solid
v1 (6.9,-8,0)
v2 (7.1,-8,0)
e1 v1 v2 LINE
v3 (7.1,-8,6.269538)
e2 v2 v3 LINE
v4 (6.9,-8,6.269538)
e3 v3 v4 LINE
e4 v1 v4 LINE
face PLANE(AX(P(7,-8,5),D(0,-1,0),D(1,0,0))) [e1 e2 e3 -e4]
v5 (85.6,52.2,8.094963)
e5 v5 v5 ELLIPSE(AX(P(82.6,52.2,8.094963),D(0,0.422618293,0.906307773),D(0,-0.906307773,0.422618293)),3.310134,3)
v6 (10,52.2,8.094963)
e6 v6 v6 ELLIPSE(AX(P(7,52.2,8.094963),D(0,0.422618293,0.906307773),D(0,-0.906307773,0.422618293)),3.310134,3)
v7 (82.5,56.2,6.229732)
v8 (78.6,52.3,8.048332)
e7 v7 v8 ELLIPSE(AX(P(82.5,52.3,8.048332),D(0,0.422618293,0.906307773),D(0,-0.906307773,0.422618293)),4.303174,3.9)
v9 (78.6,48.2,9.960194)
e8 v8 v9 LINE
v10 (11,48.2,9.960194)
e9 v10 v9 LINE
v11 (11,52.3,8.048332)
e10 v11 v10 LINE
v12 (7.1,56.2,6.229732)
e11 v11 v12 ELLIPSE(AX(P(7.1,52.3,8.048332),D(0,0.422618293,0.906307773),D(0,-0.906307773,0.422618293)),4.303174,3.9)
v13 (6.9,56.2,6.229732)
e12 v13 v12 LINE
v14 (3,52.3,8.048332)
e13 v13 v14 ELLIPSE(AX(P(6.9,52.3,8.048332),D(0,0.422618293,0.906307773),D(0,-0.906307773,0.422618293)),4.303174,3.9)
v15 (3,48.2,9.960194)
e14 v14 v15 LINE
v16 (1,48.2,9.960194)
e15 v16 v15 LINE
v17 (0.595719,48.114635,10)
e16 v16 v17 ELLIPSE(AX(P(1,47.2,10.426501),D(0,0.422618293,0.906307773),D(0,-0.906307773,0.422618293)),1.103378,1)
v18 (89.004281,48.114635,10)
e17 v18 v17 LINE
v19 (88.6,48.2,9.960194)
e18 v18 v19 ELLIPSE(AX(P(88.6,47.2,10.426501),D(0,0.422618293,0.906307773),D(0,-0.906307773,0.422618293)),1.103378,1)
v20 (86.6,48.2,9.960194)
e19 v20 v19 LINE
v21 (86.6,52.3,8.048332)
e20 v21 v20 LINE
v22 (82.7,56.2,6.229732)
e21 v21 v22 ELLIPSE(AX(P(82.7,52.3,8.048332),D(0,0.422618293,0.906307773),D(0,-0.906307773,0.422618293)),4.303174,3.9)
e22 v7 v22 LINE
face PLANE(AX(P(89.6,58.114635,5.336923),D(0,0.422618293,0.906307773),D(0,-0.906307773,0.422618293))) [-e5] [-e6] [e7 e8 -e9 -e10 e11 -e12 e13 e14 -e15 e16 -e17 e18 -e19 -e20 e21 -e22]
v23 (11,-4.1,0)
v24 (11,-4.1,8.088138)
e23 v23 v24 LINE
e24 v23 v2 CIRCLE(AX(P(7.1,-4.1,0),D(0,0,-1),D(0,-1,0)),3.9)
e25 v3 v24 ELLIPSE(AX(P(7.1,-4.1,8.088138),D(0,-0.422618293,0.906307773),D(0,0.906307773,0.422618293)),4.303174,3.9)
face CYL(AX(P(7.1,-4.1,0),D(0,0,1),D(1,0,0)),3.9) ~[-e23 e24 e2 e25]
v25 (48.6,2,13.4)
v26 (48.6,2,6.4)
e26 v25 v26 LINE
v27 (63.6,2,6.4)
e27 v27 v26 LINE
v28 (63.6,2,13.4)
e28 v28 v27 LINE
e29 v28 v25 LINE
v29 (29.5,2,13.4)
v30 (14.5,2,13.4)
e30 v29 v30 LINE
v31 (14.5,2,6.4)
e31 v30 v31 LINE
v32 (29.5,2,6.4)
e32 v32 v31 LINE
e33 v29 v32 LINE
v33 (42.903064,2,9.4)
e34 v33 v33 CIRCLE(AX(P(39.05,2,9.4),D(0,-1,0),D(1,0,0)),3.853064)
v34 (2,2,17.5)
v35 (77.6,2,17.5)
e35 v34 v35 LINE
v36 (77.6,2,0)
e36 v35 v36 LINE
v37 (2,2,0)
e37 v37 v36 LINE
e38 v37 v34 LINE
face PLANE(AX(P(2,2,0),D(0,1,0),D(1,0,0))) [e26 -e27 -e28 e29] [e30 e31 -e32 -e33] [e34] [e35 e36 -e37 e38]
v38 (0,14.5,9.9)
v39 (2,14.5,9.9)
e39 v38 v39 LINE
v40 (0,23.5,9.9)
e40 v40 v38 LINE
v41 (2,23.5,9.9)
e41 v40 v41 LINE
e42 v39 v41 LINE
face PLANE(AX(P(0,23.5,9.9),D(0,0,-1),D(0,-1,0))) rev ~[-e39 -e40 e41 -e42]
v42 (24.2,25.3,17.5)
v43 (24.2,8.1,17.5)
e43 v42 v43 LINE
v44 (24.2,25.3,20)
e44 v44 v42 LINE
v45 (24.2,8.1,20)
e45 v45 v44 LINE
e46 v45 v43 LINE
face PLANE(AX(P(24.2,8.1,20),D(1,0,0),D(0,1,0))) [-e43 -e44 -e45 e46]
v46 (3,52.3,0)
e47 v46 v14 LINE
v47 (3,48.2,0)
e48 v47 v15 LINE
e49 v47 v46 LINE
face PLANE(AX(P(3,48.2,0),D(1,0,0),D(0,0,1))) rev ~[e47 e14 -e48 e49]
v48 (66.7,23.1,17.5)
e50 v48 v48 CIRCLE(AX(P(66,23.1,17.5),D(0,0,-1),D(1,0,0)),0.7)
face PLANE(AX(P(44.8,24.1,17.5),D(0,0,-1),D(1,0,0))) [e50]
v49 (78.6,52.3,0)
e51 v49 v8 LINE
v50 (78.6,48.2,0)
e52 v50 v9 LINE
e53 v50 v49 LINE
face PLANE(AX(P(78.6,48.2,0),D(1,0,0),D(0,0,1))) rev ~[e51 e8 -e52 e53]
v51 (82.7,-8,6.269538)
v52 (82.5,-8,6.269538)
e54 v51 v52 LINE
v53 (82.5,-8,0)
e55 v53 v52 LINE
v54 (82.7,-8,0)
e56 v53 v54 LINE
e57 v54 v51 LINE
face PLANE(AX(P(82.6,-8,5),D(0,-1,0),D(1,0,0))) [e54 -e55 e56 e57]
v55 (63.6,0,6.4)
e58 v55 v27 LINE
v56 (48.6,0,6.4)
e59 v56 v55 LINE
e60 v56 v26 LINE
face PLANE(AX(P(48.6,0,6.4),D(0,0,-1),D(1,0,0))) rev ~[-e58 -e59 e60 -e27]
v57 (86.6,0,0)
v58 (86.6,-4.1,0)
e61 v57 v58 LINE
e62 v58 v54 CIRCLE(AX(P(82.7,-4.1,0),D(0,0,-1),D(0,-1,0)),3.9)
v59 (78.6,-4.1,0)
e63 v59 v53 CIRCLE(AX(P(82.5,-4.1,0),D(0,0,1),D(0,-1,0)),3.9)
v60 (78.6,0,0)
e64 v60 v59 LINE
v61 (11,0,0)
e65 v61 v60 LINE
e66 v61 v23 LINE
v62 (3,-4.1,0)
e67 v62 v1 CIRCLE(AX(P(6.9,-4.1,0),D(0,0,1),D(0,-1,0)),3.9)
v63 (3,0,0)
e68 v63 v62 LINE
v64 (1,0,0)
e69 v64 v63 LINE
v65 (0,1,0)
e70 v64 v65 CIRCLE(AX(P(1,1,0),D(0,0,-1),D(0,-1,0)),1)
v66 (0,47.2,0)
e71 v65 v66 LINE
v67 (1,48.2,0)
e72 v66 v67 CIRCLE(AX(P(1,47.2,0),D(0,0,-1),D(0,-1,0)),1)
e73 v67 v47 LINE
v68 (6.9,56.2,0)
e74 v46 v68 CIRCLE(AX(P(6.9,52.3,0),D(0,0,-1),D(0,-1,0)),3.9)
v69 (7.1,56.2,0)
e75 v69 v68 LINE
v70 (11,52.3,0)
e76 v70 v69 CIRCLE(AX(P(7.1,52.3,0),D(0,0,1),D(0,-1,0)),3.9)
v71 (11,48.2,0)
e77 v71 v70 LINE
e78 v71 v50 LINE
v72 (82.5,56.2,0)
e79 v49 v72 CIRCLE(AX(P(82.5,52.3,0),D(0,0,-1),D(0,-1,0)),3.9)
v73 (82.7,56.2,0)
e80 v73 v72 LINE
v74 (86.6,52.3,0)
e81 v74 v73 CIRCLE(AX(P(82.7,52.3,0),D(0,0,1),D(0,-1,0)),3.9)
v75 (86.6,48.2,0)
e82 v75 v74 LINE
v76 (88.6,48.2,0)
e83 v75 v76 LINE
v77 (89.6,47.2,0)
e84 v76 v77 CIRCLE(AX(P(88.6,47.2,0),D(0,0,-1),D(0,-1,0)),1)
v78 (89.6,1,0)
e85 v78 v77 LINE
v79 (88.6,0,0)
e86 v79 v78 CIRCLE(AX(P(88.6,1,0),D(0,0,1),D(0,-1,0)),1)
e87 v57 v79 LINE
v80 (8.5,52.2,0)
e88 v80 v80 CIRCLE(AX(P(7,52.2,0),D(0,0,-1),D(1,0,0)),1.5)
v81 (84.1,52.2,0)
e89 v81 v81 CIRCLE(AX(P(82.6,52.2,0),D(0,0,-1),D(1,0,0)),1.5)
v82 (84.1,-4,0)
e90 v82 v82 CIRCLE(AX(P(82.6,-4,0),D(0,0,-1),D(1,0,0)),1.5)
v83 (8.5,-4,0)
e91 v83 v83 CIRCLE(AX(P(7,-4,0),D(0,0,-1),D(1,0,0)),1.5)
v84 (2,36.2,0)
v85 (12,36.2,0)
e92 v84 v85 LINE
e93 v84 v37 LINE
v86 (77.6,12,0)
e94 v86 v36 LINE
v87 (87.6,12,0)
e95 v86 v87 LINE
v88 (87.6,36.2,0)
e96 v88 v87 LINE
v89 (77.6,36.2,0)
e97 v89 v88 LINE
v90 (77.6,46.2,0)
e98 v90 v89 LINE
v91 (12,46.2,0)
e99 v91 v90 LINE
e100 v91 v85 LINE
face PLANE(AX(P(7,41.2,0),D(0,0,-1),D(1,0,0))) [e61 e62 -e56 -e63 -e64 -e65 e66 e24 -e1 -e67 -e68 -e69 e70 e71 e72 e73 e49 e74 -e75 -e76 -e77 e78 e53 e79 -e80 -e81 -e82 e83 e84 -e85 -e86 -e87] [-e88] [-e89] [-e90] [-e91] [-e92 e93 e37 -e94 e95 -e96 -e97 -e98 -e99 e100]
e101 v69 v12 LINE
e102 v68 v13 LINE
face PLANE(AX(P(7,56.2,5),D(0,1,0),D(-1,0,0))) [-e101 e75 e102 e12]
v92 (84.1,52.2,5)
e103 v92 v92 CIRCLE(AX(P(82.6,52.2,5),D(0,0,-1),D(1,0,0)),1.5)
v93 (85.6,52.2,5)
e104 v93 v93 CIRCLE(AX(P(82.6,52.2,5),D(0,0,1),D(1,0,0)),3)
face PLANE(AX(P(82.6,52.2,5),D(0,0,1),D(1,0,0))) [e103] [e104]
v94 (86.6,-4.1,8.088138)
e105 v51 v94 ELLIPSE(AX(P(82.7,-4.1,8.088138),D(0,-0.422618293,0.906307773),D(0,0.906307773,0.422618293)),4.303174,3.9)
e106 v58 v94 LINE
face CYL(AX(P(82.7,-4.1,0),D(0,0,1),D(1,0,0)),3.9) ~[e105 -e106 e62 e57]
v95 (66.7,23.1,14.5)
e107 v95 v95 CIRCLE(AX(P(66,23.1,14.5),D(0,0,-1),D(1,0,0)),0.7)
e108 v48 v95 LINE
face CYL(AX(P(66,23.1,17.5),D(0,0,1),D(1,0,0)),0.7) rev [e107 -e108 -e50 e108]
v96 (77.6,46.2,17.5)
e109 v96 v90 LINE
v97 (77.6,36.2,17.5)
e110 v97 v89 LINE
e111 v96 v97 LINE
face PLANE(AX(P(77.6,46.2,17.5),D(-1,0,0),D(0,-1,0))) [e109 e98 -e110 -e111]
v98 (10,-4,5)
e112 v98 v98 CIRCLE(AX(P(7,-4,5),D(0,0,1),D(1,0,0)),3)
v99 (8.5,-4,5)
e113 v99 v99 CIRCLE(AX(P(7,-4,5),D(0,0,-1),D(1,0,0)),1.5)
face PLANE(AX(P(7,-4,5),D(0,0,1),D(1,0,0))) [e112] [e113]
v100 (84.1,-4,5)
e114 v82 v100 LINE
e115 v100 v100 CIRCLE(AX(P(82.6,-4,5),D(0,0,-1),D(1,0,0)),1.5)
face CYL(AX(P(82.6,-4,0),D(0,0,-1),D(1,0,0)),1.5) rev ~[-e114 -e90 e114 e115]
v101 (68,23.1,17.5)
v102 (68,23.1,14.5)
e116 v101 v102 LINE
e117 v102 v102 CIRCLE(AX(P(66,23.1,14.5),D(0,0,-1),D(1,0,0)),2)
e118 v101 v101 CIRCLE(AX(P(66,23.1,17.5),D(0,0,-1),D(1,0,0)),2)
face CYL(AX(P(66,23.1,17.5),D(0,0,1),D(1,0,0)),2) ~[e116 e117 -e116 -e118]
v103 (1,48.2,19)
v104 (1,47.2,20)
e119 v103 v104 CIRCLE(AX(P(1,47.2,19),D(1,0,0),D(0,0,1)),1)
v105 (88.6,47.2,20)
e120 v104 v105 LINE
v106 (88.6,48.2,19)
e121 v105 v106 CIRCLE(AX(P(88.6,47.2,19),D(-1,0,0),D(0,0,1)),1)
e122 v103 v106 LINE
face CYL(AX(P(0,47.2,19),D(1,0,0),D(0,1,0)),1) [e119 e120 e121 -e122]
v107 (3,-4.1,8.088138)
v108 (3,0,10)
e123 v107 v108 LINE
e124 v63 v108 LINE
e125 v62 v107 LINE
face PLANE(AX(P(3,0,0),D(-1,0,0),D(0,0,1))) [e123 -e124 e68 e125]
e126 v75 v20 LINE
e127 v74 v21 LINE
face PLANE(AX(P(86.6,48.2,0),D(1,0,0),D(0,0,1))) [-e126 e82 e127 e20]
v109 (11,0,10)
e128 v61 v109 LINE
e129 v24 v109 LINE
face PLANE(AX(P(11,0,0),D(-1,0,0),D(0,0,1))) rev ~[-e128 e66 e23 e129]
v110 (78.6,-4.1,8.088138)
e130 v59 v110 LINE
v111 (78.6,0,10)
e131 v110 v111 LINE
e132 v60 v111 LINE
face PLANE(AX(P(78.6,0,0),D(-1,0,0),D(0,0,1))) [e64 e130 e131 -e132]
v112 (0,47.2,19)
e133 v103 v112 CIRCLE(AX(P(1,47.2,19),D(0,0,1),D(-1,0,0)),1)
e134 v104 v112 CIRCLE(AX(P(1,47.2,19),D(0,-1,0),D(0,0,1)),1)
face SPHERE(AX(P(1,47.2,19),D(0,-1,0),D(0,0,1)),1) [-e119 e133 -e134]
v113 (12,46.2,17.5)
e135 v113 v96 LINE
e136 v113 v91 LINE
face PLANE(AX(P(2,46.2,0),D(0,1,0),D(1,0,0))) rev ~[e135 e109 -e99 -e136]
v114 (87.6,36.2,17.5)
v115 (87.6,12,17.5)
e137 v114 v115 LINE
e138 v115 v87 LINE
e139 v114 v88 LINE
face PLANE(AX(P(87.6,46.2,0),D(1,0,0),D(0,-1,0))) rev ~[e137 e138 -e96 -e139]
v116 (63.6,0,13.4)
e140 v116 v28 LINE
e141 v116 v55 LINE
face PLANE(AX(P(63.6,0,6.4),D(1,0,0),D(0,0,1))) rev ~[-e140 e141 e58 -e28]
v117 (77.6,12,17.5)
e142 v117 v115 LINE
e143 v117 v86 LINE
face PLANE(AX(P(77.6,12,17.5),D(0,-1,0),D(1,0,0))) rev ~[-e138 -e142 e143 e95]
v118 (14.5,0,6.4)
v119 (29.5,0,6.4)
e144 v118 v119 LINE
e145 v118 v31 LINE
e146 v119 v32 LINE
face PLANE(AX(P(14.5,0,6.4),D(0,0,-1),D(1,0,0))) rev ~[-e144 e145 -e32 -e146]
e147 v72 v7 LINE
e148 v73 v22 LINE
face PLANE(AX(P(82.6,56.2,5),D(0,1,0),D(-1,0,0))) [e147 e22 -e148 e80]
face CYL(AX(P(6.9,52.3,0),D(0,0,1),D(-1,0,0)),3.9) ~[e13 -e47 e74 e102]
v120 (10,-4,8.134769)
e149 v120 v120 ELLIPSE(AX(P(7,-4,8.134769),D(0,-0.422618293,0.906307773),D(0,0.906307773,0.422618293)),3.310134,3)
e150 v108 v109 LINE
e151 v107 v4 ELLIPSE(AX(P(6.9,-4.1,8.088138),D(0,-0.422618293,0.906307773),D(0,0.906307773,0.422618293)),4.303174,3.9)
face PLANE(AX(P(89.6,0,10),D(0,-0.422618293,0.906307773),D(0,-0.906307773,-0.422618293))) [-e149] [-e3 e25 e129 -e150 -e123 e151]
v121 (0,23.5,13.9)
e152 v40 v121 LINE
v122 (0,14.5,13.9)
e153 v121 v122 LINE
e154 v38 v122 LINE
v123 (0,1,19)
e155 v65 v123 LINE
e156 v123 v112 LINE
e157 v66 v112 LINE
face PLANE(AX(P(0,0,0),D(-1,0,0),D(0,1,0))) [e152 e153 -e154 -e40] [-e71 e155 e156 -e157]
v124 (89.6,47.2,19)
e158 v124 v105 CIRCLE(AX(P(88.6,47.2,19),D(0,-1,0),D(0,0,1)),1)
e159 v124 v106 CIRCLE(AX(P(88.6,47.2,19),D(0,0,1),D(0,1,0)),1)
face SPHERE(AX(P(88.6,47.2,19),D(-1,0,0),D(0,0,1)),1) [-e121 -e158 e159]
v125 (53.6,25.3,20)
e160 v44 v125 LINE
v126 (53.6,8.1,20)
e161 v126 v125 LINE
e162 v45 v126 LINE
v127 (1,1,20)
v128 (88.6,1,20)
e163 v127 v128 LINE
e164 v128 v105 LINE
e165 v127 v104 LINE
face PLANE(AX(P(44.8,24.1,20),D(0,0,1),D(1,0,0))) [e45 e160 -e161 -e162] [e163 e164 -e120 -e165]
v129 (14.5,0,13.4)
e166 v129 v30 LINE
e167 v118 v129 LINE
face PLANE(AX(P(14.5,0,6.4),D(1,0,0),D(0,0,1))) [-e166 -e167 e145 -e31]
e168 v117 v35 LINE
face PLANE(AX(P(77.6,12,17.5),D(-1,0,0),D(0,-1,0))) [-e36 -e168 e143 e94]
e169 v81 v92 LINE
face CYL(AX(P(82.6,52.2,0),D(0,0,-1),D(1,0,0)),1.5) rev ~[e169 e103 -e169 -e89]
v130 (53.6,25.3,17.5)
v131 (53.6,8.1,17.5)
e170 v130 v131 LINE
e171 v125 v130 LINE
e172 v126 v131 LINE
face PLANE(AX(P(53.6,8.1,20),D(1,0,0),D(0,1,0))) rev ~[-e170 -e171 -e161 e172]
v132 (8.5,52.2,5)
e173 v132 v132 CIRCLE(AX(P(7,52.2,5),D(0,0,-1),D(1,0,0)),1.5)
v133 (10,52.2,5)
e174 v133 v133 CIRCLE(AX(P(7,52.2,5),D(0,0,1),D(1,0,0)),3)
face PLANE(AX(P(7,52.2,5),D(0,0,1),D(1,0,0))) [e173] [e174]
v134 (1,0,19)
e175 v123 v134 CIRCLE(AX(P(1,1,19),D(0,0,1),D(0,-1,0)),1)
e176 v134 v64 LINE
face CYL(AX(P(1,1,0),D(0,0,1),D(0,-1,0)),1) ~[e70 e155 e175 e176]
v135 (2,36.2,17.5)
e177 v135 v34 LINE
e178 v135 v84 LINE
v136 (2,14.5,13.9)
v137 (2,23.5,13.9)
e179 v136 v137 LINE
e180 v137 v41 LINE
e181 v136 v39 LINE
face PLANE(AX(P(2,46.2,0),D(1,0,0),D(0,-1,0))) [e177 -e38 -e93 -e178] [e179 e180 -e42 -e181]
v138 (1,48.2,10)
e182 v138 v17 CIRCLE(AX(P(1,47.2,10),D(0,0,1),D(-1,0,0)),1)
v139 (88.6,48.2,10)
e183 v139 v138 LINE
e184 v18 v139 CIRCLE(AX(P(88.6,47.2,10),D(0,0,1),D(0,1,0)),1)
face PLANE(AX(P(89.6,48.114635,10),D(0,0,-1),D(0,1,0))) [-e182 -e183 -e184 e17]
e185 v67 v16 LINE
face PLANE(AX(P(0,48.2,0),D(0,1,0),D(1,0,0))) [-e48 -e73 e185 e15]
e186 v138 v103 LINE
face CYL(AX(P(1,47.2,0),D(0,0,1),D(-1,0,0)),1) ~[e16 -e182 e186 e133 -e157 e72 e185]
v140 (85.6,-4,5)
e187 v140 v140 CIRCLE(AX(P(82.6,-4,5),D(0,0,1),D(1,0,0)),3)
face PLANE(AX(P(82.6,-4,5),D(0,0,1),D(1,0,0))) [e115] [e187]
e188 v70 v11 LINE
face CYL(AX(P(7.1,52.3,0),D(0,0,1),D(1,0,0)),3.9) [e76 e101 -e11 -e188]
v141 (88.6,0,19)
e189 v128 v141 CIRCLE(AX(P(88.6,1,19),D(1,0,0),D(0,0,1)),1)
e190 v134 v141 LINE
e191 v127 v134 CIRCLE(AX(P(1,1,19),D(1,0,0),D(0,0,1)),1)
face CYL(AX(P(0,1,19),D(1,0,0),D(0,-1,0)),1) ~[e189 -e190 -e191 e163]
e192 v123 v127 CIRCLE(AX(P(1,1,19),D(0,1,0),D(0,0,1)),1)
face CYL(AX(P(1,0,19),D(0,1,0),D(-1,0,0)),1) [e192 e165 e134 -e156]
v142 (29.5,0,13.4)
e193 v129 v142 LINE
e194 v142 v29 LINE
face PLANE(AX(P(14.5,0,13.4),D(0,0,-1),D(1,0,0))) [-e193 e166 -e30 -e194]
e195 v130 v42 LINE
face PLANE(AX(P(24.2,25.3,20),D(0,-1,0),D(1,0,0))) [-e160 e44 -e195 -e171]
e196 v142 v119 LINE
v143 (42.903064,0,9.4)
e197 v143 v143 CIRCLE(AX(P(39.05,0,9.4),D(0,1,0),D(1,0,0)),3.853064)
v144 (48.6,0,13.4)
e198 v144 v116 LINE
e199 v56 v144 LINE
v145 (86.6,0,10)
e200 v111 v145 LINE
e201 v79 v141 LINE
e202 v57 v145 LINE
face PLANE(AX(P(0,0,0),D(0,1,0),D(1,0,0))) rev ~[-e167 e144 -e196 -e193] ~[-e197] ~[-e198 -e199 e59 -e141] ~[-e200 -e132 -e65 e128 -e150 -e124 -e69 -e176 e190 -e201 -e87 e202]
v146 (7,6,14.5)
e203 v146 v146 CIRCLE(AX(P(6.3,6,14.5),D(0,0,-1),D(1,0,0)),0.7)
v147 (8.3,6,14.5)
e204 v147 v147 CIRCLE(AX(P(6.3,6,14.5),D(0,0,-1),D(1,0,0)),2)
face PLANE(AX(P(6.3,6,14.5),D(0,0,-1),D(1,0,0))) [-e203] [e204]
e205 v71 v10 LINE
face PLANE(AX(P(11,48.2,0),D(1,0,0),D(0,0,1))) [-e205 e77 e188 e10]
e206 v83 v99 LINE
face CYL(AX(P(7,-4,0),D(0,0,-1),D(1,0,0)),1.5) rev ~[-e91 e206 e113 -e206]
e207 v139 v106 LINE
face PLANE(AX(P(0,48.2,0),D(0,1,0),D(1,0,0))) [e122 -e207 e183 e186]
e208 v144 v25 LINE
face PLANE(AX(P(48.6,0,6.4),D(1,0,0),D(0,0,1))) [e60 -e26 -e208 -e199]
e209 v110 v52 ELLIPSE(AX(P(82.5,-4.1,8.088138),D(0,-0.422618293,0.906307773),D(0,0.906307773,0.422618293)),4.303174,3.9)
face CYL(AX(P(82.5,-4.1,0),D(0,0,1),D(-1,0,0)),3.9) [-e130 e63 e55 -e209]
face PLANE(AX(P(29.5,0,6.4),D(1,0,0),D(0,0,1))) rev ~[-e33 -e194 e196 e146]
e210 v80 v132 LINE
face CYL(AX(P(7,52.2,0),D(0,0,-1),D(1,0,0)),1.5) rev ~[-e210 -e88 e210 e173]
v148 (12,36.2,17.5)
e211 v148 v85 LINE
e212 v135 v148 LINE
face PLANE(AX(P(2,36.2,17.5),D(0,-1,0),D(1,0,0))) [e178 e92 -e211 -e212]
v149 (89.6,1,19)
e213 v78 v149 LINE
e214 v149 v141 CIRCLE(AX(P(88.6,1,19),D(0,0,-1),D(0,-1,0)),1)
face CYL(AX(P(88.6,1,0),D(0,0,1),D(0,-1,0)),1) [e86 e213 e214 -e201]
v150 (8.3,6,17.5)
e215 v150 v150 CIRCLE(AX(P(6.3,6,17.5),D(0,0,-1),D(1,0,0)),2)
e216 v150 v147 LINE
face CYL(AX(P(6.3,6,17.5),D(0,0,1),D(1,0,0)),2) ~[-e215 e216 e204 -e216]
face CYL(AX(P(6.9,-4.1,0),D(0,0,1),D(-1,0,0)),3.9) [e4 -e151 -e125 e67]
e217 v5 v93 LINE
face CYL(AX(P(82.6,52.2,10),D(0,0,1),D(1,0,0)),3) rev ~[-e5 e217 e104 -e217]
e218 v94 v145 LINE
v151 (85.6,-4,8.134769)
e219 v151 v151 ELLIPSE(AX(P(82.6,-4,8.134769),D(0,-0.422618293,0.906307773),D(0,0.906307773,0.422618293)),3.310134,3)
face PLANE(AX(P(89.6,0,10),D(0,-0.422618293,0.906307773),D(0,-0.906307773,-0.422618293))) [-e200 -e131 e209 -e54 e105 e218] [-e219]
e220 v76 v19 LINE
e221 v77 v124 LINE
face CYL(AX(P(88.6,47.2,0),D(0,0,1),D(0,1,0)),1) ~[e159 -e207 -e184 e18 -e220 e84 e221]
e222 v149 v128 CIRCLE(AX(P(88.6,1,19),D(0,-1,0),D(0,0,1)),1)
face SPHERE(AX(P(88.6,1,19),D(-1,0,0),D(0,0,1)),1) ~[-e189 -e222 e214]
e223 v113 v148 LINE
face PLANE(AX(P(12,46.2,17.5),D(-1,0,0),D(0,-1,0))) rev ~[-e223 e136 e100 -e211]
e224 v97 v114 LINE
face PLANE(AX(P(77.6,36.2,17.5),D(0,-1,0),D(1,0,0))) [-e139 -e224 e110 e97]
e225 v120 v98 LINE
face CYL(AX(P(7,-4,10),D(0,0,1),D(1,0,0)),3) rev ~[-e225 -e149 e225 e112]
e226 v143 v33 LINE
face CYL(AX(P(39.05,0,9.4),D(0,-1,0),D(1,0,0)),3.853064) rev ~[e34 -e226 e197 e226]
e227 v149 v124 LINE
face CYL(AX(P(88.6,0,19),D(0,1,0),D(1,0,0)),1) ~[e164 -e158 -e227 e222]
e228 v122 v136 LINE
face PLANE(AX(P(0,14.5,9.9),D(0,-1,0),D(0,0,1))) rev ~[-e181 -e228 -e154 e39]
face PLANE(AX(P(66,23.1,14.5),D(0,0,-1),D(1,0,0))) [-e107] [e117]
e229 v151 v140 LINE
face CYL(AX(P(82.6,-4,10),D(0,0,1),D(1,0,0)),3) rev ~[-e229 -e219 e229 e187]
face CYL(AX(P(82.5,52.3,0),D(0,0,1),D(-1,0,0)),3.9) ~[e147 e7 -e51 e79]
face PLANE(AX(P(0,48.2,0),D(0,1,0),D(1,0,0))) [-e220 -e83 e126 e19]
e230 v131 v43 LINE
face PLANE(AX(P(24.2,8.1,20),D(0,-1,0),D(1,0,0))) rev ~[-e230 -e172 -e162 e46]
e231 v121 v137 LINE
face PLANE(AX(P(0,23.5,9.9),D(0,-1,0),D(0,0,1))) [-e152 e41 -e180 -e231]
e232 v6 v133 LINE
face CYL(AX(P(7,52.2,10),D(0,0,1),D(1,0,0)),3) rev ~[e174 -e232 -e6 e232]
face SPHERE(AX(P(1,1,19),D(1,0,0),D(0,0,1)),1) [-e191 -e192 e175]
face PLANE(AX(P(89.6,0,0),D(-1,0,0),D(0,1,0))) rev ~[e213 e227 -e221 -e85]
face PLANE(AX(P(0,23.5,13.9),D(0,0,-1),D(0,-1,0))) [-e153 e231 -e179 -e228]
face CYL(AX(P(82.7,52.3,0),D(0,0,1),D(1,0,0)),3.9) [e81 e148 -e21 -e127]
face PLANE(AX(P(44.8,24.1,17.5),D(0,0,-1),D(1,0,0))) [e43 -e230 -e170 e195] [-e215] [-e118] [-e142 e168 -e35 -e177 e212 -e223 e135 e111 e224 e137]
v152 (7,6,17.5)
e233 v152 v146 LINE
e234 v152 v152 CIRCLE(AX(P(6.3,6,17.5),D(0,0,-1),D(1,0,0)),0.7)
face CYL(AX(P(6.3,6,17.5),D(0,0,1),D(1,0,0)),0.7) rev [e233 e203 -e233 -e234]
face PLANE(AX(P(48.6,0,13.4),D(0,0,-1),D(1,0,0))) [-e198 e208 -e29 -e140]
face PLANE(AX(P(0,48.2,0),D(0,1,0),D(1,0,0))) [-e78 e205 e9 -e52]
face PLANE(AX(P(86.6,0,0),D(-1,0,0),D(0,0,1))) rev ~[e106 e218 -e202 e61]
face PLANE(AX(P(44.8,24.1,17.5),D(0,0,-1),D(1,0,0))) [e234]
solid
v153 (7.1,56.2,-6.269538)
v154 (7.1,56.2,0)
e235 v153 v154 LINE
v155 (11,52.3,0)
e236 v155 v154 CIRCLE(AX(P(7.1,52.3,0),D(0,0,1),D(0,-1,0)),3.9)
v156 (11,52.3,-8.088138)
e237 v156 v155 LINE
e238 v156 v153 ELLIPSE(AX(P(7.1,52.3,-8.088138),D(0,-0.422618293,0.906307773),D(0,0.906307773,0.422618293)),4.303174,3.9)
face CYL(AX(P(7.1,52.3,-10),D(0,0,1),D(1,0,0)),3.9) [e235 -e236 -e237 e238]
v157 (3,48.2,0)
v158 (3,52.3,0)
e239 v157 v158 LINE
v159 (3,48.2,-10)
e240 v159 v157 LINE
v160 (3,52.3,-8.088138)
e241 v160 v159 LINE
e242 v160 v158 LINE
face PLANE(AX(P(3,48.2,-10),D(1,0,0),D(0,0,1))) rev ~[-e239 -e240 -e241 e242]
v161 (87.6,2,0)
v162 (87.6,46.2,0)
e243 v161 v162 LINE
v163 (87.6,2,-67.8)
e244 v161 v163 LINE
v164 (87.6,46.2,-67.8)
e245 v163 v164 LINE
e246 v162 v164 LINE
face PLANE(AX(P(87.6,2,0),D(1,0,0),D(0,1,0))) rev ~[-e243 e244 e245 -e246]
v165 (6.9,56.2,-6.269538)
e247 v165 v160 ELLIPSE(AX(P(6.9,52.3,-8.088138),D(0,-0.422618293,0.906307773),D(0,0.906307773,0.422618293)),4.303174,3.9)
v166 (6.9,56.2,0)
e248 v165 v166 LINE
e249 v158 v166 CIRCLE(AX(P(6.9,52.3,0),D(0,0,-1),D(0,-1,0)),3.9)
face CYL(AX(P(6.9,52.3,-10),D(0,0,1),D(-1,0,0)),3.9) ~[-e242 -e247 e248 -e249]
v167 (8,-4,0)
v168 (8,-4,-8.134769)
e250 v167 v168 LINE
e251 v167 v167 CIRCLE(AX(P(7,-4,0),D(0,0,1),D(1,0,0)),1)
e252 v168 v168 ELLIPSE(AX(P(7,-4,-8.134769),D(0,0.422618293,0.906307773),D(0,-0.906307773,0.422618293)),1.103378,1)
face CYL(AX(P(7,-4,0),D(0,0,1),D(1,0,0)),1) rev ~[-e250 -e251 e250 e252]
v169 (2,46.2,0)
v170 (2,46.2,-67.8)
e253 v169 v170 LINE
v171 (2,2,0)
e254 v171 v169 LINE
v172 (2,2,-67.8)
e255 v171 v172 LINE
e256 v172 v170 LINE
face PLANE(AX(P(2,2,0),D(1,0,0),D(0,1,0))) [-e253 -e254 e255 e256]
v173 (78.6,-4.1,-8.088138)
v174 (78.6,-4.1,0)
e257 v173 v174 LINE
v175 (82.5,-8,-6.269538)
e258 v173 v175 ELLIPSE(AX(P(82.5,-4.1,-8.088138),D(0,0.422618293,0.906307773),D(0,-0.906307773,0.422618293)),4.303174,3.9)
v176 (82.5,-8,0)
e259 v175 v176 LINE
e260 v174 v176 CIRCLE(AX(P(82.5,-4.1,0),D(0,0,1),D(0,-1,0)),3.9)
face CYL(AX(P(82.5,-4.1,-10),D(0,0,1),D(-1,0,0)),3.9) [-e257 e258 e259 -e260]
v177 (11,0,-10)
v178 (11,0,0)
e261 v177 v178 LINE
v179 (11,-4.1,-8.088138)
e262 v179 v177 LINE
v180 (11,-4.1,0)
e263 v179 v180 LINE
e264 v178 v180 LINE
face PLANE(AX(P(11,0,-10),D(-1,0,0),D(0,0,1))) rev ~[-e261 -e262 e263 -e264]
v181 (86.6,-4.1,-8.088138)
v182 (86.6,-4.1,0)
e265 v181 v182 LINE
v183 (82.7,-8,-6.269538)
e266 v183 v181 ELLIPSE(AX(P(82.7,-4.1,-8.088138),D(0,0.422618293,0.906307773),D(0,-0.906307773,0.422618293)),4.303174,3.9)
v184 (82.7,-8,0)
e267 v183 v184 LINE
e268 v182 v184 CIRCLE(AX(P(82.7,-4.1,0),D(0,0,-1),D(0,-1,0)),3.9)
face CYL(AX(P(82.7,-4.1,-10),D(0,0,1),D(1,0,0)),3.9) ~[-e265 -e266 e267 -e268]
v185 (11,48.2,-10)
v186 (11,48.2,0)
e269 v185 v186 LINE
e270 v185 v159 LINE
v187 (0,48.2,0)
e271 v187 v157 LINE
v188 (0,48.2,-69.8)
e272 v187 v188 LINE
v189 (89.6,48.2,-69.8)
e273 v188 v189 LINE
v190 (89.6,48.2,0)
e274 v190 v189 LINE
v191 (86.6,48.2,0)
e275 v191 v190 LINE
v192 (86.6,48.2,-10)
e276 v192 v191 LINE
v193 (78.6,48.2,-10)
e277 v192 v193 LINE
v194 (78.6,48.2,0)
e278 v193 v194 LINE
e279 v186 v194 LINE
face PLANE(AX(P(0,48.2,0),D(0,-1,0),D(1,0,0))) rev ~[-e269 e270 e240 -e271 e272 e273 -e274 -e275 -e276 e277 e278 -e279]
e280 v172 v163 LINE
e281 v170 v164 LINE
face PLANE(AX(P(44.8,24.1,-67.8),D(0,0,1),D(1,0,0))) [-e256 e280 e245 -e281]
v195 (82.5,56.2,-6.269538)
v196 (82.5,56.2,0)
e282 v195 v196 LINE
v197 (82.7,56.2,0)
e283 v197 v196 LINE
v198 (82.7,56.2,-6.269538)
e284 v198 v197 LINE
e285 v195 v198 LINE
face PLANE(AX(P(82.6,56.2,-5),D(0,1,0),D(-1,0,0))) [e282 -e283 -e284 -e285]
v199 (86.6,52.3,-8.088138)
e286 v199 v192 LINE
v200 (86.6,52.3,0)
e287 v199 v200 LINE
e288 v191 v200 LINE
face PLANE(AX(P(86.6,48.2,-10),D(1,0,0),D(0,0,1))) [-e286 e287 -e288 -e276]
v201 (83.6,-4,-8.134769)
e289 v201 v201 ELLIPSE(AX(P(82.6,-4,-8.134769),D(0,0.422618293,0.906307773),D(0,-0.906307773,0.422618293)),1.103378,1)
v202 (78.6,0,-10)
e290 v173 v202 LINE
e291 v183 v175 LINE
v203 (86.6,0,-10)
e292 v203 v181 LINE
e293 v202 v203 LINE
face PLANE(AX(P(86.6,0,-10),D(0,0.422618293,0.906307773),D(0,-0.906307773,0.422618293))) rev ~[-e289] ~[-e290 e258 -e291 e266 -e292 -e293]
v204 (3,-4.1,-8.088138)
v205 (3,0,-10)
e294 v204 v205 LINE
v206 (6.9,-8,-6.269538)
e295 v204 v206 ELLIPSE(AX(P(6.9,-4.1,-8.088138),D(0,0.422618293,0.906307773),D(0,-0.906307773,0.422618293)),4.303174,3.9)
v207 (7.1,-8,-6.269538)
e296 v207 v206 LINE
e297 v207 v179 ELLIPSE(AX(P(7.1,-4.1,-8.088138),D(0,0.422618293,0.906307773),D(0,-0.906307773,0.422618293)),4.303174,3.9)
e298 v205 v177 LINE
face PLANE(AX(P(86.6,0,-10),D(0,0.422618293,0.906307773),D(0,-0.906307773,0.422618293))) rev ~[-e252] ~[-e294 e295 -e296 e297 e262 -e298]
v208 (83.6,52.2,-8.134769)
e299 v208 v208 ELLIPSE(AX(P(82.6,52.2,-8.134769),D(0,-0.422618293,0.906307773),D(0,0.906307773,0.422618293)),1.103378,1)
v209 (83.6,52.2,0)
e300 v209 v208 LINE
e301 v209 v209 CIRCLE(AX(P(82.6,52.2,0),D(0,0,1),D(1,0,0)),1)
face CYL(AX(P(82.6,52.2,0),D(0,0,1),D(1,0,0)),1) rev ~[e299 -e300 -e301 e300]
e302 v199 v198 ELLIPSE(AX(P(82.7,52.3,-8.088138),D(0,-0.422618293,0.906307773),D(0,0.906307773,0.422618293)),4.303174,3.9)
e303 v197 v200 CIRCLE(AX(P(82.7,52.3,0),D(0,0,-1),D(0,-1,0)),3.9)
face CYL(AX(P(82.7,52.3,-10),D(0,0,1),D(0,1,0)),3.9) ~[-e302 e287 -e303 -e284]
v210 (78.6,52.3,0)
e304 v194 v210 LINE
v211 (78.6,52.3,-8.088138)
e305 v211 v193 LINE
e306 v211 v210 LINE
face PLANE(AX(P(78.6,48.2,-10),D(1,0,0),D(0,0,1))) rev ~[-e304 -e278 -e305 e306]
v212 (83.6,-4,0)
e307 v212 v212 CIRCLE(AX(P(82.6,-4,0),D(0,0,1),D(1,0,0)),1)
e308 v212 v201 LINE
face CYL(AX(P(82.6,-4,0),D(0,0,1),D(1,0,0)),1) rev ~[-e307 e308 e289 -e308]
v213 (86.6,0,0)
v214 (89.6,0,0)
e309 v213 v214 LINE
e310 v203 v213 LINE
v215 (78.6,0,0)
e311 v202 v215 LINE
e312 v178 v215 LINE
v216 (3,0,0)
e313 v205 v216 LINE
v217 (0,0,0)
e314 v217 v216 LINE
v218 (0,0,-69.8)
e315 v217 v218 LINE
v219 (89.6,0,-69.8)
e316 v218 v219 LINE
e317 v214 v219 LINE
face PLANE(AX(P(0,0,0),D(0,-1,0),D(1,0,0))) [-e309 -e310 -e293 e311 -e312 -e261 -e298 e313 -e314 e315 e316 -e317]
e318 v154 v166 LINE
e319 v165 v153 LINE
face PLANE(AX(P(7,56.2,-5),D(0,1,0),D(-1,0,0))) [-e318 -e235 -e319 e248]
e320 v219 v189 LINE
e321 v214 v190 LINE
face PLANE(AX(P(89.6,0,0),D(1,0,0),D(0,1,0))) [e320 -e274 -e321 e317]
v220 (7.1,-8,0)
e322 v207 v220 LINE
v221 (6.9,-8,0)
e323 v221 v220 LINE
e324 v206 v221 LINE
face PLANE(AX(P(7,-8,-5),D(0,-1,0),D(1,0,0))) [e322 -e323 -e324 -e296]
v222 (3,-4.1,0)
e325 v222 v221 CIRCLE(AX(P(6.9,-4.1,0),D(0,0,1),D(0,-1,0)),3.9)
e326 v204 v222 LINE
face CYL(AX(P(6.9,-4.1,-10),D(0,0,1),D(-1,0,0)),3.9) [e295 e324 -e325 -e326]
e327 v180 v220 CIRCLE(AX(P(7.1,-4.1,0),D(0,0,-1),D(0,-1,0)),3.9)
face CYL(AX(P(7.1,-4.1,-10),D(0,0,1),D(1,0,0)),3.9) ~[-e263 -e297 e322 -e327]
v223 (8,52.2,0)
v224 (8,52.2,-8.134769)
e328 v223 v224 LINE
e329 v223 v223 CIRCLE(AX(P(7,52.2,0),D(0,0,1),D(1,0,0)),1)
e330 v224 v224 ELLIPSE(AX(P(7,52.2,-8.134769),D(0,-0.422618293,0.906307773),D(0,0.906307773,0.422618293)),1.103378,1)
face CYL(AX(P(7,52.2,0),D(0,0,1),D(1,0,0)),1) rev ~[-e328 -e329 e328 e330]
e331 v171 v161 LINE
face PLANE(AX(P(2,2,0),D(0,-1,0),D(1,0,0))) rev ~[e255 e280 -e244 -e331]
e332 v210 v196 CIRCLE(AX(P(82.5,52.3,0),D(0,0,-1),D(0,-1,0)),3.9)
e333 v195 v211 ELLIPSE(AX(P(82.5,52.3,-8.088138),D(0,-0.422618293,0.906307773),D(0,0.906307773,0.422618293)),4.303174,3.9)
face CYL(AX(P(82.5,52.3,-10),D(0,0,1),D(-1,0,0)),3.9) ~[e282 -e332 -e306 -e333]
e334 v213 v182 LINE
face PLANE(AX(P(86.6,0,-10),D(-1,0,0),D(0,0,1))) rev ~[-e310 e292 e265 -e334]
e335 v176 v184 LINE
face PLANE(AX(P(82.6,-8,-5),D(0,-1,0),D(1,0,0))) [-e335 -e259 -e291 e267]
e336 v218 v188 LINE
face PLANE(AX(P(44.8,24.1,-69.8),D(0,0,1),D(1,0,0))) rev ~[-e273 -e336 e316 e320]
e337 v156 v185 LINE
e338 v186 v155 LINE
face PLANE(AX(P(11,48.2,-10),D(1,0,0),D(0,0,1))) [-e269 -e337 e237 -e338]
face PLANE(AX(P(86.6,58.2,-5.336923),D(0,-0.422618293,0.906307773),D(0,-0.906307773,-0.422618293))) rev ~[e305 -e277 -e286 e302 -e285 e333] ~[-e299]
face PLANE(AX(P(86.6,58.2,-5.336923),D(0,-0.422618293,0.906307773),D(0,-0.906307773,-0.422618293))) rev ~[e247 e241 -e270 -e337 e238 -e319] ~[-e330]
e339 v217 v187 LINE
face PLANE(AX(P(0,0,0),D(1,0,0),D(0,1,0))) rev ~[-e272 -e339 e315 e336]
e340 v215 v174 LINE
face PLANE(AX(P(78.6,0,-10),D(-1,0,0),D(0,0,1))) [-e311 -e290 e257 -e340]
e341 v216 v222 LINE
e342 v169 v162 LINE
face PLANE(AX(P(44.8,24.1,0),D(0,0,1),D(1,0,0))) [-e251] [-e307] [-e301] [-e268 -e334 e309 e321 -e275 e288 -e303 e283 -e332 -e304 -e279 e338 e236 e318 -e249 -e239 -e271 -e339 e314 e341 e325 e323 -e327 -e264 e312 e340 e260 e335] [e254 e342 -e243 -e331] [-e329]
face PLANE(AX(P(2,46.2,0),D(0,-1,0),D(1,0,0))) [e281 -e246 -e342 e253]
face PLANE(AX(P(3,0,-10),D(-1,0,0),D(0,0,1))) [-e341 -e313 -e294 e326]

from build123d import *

# Parameters (mm, degrees)
SKETCH_W        = 89.6
SKETCH_H        = 48.2
PAD_DEPTH       = 20
SKETCH001_W     = 85.6
SKETCH001_H     = 44.2
POCKET_DEPTH    = 17.5
SKETCH016_R     = 3.853064
SKETCH016_W     = 15
SKETCH016_H     = 7
POCKET010_DEPTH = 5
SKETCH017_W     = 9
SKETCH017_H     = 4
POCKET011_DEPTH = 5
SKETCH018_W     = 29.4
SKETCH018_H     = 17.2
POCKET012_DEPTH = 5
SKETCH019_R     = 2
SKETCH019_R_2   = 0.7
PAD006_DEPTH    = 3
SKETCH020_W     = 8
SKETCH020_H     = 10
PAD007_DEPTH    = 8
FILLET_R        = 3.9
SKETCH021_R     = 1.5
POCKET013_DEPTH = 20
SKETCH022_W     = 8
SKETCH022_H     = 10
PAD008_DEPTH    = 8
FILLET002_R     = 3.9
SKETCH023_R     = 1.5
POCKET014_DEPTH = 20
SKETCH024_R     = 3
POCKET015_DEPTH = 5
FILLET003_R     = 1
SKETCH028_W     = 10
SKETCH028_H     = 10
PAD011_DEPTH    = 17.5
POCKET017_DEPTH = 100
SKETCH013_W     = 89.6
SKETCH013_H     = 48.2
PAD005_DEPTH    = 69.8
SKETCH014_W     = 85.6
SKETCH014_H     = 44.2
POCKET008_DEPTH = 67.8
SKETCH025_W     = 8
SKETCH025_H     = 10
PAD009_DEPTH    = 8
FILLET004_R     = 3.9
FILLET005_R     = 3.9
SKETCH026_W     = 8
SKETCH026_H     = 10
PAD010_DEPTH    = 8
FILLET006_R     = 3.9
SKETCH027_R     = 1
POCKET016_DEPTH = 9
POCKET018_DEPTH = 100


with BuildPart() as tampa:
    # Sketch → Pad (new body)
    with BuildSketch(Plane.XY):
        with Locations((44.8, 24.1)):
            Rectangle(SKETCH_W, SKETCH_H)
    extrude(amount=PAD_DEPTH)

    # Sketch001 (on Face5 of Pad) → Pocket (cut)
    with BuildSketch(Plane(origin=(0, 0, 0), x_dir=(1, 0, 0), z_dir=(0, 0, -1))):
        with Locations((44.8, -24.1)):
            Rectangle(SKETCH001_W, SKETCH001_H)
    extrude(amount=-POCKET_DEPTH, mode=Mode.SUBTRACT)

    # Sketch016 (on Face1 of Pocket) → Pocket010 (cut)
    with BuildSketch(Plane.XZ):
        with Locations((39.05, 9.4)):
            Circle(SKETCH016_R)
        with Locations((22, 9.9)):
            Rectangle(SKETCH016_W, SKETCH016_H)
        with Locations((56.1, 9.9)):
            Rectangle(SKETCH016_W, SKETCH016_H)
    extrude(amount=-POCKET010_DEPTH, mode=Mode.SUBTRACT)

    # Sketch017 (on Face2 of Pocket010) → Pocket011 (cut)
    with BuildSketch(Plane(origin=(0, 0, 0), x_dir=(0, -1, 0), z_dir=(-1, 0, 0))):
        with Locations((-19, 11.9)):
            Rectangle(SKETCH017_W, SKETCH017_H)
    extrude(amount=-POCKET011_DEPTH, mode=Mode.SUBTRACT)

    # Sketch018 (on Face4 of Pocket011) → Pocket012 (cut)
    with BuildSketch(Plane.XY.offset(20)):
        with Locations((38.9, 16.7)):
            Rectangle(SKETCH018_W, SKETCH018_H)
    extrude(amount=-POCKET012_DEPTH, mode=Mode.SUBTRACT)

    # Sketch019 (on Face28 of Pocket012) → Pad006 (join)
    with BuildSketch(Plane(origin=(0, 0, 17.5), x_dir=(1, 0, 0), z_dir=(0, 0, -1))):
        with Locations((6.3, -6)):
            Circle(SKETCH019_R)
        with Locations((6.3, -6)):
            Circle(SKETCH019_R_2, mode=Mode.SUBTRACT)
        with Locations((66, -23.1)):
            Circle(SKETCH019_R)
        with Locations((66, -23.1)):
            Circle(SKETCH019_R_2, mode=Mode.SUBTRACT)
    extrude(amount=PAD006_DEPTH)

    # Sketch020 (on Face15 of Pad006) → Pad007 (join)
    with BuildSketch(Plane(origin=(0, 48.2, 0), x_dir=(-1, 0, 0), z_dir=(0, 1, 0))):
        with Locations((-7, 5)):
            Rectangle(SKETCH020_W, SKETCH020_H)
        with Locations((-82.6, 5)):
            Rectangle(SKETCH020_W, SKETCH020_H)
    extrude(amount=PAD007_DEPTH)

    # Fillet
    fillet_edges = [tampa.edges().sort_by_distance(p)[0] for p in [
        (86.6, 56.2, 5),
        (78.6, 56.2, 5),
        (11, 56.2, 5),
        (3, 56.2, 5),
    ]]
    fillet(fillet_edges, radius=FILLET_R)

    # Sketch021 (on Face13 of Fillet) → Pocket013 (cut)
    with BuildSketch(Plane(origin=(0, 0, 0), x_dir=(1, 0, 0), z_dir=(0, 0, -1))):
        with Locations((7, -52.2)):
            Circle(SKETCH021_R)
        with Locations((82.6, -52.2)):
            Circle(SKETCH021_R)
    extrude(amount=-POCKET013_DEPTH, mode=Mode.SUBTRACT)

    # Sketch022 (on Face11 of Pocket013) → Pad008 (join)
    with BuildSketch(Plane.XZ):
        with Locations((7, 5)):
            Rectangle(SKETCH022_W, SKETCH022_H)
        with Locations((82.6, 5)):
            Rectangle(SKETCH022_W, SKETCH022_H)
    extrude(amount=PAD008_DEPTH)

    # Fillet002
    fillet002_edges = [tampa.edges().sort_by_distance(p)[0] for p in [
        (11, -8, 5),
        (3, -8, 5),
        (78.6, -8, 5),
        (86.6, -8, 5),
    ]]
    fillet(fillet002_edges, radius=FILLET002_R)

    # Sketch023 (on Face1 of Fillet002) → Pocket014 (cut)
    with BuildSketch(Plane(origin=(0, 0, 0), x_dir=(1, 0, 0), z_dir=(0, 0, -1))):
        with Locations((7, 4)):
            Circle(SKETCH023_R)
        with Locations((82.6, 4)):
            Circle(SKETCH023_R)
    extrude(amount=-POCKET014_DEPTH, mode=Mode.SUBTRACT)

    # Sketch024 → Pocket015 (cut)
    with BuildSketch(Plane.XY.offset(10)):
        with Locations((7, 52.2)):
            Circle(SKETCH024_R)
        with Locations((82.6, 52.2)):
            Circle(SKETCH024_R)
        with Locations((82.6, -4)):
            Circle(SKETCH024_R)
        with Locations((7, -4)):
            Circle(SKETCH024_R)
    extrude(amount=-POCKET015_DEPTH, mode=Mode.SUBTRACT)

    # Fillet003
    fillet003_edges = [tampa.edges().sort_by_distance(p)[0] for p in [
        (44.8, 0, 20),
        (0, 24.1, 20),
        (44.8, 48.2, 20),
        (89.6, 24.1, 20),
        (89.6, 48.2, 10),
        (89.6, 0, 10),
        (0, 0, 10),
        (0, 48.2, 10),
    ]]
    fillet(fillet003_edges, radius=FILLET003_R)

    # Sketch028 (on Face67 of Fillet003) → Pad011 (join)
    with BuildSketch(Plane(origin=(0, 0, 17.5), x_dir=(1, 0, 0), z_dir=(0, 0, -1))):
        with Locations((7, -41.2)):
            Rectangle(SKETCH028_W, SKETCH028_H)
        with Locations((82.6, -41.2)):
            Rectangle(SKETCH028_W, SKETCH028_H)
        with Locations((82.6, -7)):
            Rectangle(SKETCH028_W, SKETCH028_H)
    extrude(amount=PAD011_DEPTH)

    # Sketch029 (on Face11 of Pad011) → Pocket017 (cut)
    with BuildSketch(Plane.YZ.offset(89.6)):
        Polygon((0, 10), (-10, 5.336923), (-10, 10), align=None)
        Polygon((48.114635, 10), (58.114635, 10), (58.114635, 5.336923), align=None)
    extrude(amount=-POCKET017_DEPTH, mode=Mode.SUBTRACT)


with BuildPart() as base:
    # Sketch013 → Pad005 (new body)
    with BuildSketch(Plane.XY):
        with Locations((44.8, 24.1)):
            Rectangle(SKETCH013_W, SKETCH013_H)
    extrude(amount=-PAD005_DEPTH)

    # Sketch014 (on Face5 of Pad005) → Pocket008 (cut)
    with BuildSketch(Plane.XY):
        with Locations((44.8, 24.1)):
            Rectangle(SKETCH014_W, SKETCH014_H)
    extrude(amount=-POCKET008_DEPTH, mode=Mode.SUBTRACT)

    # Sketch025 (on Face1 of Pocket008) → Pad009 (join)
    with BuildSketch(Plane(origin=(0, 48.2, 0), x_dir=(-1, 0, 0), z_dir=(0, 1, 0))):
        with Locations((-82.6, -5)):
            Rectangle(SKETCH025_W, SKETCH025_H)
        with Locations((-7, -5)):
            Rectangle(SKETCH025_W, SKETCH025_H)
    extrude(amount=PAD009_DEPTH)

    # Fillet004
    fillet004_edges = [base.edges().sort_by_distance(p)[0] for p in [
        (3, 56.2, -5),
        (11, 56.2, -5),
    ]]
    fillet(fillet004_edges, radius=FILLET004_R)

    # Fillet005
    fillet005_edges = [base.edges().sort_by_distance(p)[0] for p in [
        (86.6, 56.2, -5),
        (78.6, 56.2, -5),
    ]]
    fillet(fillet005_edges, radius=FILLET005_R)

    # Sketch026 (on Face17 of Fillet005) → Pad010 (join)
    with BuildSketch(Plane.XZ):
        with Locations((7, -5)):
            Rectangle(SKETCH026_W, SKETCH026_H)
        with Locations((82.6, -5)):
            Rectangle(SKETCH026_W, SKETCH026_H)
    extrude(amount=PAD010_DEPTH)

    # Fillet006
    fillet006_edges = [base.edges().sort_by_distance(p)[0] for p in [
        (3, -8, -5),
        (11, -8, -5),
        (78.6, -8, -5),
        (86.6, -8, -5),
    ]]
    fillet(fillet006_edges, radius=FILLET006_R)

    # Sketch027 (on Face15 of Fillet006) → Pocket016 (cut)
    with BuildSketch(Plane.XY):
        with Locations((7, 52.2)):
            Circle(SKETCH027_R)
        with Locations((82.6, 52.2)):
            Circle(SKETCH027_R)
        with Locations((7, -4)):
            Circle(SKETCH027_R)
        with Locations((82.6, -4)):
            Circle(SKETCH027_R)
    extrude(amount=-POCKET016_DEPTH, mode=Mode.SUBTRACT)

    # Sketch030 (on Face31 of Pocket016) → Pocket018 (cut)
    with BuildSketch(Plane.YZ.offset(86.6)):
        Polygon((0, -10), (-10, -5.336923), (-10, -10), align=None)
        Polygon((48.2, -10), (58.2, -10), (58.2, -5.336923), align=None)
    extrude(amount=-POCKET018_DEPTH, mode=Mode.SUBTRACT)


solid = Compound([tampa.part, base.part])
